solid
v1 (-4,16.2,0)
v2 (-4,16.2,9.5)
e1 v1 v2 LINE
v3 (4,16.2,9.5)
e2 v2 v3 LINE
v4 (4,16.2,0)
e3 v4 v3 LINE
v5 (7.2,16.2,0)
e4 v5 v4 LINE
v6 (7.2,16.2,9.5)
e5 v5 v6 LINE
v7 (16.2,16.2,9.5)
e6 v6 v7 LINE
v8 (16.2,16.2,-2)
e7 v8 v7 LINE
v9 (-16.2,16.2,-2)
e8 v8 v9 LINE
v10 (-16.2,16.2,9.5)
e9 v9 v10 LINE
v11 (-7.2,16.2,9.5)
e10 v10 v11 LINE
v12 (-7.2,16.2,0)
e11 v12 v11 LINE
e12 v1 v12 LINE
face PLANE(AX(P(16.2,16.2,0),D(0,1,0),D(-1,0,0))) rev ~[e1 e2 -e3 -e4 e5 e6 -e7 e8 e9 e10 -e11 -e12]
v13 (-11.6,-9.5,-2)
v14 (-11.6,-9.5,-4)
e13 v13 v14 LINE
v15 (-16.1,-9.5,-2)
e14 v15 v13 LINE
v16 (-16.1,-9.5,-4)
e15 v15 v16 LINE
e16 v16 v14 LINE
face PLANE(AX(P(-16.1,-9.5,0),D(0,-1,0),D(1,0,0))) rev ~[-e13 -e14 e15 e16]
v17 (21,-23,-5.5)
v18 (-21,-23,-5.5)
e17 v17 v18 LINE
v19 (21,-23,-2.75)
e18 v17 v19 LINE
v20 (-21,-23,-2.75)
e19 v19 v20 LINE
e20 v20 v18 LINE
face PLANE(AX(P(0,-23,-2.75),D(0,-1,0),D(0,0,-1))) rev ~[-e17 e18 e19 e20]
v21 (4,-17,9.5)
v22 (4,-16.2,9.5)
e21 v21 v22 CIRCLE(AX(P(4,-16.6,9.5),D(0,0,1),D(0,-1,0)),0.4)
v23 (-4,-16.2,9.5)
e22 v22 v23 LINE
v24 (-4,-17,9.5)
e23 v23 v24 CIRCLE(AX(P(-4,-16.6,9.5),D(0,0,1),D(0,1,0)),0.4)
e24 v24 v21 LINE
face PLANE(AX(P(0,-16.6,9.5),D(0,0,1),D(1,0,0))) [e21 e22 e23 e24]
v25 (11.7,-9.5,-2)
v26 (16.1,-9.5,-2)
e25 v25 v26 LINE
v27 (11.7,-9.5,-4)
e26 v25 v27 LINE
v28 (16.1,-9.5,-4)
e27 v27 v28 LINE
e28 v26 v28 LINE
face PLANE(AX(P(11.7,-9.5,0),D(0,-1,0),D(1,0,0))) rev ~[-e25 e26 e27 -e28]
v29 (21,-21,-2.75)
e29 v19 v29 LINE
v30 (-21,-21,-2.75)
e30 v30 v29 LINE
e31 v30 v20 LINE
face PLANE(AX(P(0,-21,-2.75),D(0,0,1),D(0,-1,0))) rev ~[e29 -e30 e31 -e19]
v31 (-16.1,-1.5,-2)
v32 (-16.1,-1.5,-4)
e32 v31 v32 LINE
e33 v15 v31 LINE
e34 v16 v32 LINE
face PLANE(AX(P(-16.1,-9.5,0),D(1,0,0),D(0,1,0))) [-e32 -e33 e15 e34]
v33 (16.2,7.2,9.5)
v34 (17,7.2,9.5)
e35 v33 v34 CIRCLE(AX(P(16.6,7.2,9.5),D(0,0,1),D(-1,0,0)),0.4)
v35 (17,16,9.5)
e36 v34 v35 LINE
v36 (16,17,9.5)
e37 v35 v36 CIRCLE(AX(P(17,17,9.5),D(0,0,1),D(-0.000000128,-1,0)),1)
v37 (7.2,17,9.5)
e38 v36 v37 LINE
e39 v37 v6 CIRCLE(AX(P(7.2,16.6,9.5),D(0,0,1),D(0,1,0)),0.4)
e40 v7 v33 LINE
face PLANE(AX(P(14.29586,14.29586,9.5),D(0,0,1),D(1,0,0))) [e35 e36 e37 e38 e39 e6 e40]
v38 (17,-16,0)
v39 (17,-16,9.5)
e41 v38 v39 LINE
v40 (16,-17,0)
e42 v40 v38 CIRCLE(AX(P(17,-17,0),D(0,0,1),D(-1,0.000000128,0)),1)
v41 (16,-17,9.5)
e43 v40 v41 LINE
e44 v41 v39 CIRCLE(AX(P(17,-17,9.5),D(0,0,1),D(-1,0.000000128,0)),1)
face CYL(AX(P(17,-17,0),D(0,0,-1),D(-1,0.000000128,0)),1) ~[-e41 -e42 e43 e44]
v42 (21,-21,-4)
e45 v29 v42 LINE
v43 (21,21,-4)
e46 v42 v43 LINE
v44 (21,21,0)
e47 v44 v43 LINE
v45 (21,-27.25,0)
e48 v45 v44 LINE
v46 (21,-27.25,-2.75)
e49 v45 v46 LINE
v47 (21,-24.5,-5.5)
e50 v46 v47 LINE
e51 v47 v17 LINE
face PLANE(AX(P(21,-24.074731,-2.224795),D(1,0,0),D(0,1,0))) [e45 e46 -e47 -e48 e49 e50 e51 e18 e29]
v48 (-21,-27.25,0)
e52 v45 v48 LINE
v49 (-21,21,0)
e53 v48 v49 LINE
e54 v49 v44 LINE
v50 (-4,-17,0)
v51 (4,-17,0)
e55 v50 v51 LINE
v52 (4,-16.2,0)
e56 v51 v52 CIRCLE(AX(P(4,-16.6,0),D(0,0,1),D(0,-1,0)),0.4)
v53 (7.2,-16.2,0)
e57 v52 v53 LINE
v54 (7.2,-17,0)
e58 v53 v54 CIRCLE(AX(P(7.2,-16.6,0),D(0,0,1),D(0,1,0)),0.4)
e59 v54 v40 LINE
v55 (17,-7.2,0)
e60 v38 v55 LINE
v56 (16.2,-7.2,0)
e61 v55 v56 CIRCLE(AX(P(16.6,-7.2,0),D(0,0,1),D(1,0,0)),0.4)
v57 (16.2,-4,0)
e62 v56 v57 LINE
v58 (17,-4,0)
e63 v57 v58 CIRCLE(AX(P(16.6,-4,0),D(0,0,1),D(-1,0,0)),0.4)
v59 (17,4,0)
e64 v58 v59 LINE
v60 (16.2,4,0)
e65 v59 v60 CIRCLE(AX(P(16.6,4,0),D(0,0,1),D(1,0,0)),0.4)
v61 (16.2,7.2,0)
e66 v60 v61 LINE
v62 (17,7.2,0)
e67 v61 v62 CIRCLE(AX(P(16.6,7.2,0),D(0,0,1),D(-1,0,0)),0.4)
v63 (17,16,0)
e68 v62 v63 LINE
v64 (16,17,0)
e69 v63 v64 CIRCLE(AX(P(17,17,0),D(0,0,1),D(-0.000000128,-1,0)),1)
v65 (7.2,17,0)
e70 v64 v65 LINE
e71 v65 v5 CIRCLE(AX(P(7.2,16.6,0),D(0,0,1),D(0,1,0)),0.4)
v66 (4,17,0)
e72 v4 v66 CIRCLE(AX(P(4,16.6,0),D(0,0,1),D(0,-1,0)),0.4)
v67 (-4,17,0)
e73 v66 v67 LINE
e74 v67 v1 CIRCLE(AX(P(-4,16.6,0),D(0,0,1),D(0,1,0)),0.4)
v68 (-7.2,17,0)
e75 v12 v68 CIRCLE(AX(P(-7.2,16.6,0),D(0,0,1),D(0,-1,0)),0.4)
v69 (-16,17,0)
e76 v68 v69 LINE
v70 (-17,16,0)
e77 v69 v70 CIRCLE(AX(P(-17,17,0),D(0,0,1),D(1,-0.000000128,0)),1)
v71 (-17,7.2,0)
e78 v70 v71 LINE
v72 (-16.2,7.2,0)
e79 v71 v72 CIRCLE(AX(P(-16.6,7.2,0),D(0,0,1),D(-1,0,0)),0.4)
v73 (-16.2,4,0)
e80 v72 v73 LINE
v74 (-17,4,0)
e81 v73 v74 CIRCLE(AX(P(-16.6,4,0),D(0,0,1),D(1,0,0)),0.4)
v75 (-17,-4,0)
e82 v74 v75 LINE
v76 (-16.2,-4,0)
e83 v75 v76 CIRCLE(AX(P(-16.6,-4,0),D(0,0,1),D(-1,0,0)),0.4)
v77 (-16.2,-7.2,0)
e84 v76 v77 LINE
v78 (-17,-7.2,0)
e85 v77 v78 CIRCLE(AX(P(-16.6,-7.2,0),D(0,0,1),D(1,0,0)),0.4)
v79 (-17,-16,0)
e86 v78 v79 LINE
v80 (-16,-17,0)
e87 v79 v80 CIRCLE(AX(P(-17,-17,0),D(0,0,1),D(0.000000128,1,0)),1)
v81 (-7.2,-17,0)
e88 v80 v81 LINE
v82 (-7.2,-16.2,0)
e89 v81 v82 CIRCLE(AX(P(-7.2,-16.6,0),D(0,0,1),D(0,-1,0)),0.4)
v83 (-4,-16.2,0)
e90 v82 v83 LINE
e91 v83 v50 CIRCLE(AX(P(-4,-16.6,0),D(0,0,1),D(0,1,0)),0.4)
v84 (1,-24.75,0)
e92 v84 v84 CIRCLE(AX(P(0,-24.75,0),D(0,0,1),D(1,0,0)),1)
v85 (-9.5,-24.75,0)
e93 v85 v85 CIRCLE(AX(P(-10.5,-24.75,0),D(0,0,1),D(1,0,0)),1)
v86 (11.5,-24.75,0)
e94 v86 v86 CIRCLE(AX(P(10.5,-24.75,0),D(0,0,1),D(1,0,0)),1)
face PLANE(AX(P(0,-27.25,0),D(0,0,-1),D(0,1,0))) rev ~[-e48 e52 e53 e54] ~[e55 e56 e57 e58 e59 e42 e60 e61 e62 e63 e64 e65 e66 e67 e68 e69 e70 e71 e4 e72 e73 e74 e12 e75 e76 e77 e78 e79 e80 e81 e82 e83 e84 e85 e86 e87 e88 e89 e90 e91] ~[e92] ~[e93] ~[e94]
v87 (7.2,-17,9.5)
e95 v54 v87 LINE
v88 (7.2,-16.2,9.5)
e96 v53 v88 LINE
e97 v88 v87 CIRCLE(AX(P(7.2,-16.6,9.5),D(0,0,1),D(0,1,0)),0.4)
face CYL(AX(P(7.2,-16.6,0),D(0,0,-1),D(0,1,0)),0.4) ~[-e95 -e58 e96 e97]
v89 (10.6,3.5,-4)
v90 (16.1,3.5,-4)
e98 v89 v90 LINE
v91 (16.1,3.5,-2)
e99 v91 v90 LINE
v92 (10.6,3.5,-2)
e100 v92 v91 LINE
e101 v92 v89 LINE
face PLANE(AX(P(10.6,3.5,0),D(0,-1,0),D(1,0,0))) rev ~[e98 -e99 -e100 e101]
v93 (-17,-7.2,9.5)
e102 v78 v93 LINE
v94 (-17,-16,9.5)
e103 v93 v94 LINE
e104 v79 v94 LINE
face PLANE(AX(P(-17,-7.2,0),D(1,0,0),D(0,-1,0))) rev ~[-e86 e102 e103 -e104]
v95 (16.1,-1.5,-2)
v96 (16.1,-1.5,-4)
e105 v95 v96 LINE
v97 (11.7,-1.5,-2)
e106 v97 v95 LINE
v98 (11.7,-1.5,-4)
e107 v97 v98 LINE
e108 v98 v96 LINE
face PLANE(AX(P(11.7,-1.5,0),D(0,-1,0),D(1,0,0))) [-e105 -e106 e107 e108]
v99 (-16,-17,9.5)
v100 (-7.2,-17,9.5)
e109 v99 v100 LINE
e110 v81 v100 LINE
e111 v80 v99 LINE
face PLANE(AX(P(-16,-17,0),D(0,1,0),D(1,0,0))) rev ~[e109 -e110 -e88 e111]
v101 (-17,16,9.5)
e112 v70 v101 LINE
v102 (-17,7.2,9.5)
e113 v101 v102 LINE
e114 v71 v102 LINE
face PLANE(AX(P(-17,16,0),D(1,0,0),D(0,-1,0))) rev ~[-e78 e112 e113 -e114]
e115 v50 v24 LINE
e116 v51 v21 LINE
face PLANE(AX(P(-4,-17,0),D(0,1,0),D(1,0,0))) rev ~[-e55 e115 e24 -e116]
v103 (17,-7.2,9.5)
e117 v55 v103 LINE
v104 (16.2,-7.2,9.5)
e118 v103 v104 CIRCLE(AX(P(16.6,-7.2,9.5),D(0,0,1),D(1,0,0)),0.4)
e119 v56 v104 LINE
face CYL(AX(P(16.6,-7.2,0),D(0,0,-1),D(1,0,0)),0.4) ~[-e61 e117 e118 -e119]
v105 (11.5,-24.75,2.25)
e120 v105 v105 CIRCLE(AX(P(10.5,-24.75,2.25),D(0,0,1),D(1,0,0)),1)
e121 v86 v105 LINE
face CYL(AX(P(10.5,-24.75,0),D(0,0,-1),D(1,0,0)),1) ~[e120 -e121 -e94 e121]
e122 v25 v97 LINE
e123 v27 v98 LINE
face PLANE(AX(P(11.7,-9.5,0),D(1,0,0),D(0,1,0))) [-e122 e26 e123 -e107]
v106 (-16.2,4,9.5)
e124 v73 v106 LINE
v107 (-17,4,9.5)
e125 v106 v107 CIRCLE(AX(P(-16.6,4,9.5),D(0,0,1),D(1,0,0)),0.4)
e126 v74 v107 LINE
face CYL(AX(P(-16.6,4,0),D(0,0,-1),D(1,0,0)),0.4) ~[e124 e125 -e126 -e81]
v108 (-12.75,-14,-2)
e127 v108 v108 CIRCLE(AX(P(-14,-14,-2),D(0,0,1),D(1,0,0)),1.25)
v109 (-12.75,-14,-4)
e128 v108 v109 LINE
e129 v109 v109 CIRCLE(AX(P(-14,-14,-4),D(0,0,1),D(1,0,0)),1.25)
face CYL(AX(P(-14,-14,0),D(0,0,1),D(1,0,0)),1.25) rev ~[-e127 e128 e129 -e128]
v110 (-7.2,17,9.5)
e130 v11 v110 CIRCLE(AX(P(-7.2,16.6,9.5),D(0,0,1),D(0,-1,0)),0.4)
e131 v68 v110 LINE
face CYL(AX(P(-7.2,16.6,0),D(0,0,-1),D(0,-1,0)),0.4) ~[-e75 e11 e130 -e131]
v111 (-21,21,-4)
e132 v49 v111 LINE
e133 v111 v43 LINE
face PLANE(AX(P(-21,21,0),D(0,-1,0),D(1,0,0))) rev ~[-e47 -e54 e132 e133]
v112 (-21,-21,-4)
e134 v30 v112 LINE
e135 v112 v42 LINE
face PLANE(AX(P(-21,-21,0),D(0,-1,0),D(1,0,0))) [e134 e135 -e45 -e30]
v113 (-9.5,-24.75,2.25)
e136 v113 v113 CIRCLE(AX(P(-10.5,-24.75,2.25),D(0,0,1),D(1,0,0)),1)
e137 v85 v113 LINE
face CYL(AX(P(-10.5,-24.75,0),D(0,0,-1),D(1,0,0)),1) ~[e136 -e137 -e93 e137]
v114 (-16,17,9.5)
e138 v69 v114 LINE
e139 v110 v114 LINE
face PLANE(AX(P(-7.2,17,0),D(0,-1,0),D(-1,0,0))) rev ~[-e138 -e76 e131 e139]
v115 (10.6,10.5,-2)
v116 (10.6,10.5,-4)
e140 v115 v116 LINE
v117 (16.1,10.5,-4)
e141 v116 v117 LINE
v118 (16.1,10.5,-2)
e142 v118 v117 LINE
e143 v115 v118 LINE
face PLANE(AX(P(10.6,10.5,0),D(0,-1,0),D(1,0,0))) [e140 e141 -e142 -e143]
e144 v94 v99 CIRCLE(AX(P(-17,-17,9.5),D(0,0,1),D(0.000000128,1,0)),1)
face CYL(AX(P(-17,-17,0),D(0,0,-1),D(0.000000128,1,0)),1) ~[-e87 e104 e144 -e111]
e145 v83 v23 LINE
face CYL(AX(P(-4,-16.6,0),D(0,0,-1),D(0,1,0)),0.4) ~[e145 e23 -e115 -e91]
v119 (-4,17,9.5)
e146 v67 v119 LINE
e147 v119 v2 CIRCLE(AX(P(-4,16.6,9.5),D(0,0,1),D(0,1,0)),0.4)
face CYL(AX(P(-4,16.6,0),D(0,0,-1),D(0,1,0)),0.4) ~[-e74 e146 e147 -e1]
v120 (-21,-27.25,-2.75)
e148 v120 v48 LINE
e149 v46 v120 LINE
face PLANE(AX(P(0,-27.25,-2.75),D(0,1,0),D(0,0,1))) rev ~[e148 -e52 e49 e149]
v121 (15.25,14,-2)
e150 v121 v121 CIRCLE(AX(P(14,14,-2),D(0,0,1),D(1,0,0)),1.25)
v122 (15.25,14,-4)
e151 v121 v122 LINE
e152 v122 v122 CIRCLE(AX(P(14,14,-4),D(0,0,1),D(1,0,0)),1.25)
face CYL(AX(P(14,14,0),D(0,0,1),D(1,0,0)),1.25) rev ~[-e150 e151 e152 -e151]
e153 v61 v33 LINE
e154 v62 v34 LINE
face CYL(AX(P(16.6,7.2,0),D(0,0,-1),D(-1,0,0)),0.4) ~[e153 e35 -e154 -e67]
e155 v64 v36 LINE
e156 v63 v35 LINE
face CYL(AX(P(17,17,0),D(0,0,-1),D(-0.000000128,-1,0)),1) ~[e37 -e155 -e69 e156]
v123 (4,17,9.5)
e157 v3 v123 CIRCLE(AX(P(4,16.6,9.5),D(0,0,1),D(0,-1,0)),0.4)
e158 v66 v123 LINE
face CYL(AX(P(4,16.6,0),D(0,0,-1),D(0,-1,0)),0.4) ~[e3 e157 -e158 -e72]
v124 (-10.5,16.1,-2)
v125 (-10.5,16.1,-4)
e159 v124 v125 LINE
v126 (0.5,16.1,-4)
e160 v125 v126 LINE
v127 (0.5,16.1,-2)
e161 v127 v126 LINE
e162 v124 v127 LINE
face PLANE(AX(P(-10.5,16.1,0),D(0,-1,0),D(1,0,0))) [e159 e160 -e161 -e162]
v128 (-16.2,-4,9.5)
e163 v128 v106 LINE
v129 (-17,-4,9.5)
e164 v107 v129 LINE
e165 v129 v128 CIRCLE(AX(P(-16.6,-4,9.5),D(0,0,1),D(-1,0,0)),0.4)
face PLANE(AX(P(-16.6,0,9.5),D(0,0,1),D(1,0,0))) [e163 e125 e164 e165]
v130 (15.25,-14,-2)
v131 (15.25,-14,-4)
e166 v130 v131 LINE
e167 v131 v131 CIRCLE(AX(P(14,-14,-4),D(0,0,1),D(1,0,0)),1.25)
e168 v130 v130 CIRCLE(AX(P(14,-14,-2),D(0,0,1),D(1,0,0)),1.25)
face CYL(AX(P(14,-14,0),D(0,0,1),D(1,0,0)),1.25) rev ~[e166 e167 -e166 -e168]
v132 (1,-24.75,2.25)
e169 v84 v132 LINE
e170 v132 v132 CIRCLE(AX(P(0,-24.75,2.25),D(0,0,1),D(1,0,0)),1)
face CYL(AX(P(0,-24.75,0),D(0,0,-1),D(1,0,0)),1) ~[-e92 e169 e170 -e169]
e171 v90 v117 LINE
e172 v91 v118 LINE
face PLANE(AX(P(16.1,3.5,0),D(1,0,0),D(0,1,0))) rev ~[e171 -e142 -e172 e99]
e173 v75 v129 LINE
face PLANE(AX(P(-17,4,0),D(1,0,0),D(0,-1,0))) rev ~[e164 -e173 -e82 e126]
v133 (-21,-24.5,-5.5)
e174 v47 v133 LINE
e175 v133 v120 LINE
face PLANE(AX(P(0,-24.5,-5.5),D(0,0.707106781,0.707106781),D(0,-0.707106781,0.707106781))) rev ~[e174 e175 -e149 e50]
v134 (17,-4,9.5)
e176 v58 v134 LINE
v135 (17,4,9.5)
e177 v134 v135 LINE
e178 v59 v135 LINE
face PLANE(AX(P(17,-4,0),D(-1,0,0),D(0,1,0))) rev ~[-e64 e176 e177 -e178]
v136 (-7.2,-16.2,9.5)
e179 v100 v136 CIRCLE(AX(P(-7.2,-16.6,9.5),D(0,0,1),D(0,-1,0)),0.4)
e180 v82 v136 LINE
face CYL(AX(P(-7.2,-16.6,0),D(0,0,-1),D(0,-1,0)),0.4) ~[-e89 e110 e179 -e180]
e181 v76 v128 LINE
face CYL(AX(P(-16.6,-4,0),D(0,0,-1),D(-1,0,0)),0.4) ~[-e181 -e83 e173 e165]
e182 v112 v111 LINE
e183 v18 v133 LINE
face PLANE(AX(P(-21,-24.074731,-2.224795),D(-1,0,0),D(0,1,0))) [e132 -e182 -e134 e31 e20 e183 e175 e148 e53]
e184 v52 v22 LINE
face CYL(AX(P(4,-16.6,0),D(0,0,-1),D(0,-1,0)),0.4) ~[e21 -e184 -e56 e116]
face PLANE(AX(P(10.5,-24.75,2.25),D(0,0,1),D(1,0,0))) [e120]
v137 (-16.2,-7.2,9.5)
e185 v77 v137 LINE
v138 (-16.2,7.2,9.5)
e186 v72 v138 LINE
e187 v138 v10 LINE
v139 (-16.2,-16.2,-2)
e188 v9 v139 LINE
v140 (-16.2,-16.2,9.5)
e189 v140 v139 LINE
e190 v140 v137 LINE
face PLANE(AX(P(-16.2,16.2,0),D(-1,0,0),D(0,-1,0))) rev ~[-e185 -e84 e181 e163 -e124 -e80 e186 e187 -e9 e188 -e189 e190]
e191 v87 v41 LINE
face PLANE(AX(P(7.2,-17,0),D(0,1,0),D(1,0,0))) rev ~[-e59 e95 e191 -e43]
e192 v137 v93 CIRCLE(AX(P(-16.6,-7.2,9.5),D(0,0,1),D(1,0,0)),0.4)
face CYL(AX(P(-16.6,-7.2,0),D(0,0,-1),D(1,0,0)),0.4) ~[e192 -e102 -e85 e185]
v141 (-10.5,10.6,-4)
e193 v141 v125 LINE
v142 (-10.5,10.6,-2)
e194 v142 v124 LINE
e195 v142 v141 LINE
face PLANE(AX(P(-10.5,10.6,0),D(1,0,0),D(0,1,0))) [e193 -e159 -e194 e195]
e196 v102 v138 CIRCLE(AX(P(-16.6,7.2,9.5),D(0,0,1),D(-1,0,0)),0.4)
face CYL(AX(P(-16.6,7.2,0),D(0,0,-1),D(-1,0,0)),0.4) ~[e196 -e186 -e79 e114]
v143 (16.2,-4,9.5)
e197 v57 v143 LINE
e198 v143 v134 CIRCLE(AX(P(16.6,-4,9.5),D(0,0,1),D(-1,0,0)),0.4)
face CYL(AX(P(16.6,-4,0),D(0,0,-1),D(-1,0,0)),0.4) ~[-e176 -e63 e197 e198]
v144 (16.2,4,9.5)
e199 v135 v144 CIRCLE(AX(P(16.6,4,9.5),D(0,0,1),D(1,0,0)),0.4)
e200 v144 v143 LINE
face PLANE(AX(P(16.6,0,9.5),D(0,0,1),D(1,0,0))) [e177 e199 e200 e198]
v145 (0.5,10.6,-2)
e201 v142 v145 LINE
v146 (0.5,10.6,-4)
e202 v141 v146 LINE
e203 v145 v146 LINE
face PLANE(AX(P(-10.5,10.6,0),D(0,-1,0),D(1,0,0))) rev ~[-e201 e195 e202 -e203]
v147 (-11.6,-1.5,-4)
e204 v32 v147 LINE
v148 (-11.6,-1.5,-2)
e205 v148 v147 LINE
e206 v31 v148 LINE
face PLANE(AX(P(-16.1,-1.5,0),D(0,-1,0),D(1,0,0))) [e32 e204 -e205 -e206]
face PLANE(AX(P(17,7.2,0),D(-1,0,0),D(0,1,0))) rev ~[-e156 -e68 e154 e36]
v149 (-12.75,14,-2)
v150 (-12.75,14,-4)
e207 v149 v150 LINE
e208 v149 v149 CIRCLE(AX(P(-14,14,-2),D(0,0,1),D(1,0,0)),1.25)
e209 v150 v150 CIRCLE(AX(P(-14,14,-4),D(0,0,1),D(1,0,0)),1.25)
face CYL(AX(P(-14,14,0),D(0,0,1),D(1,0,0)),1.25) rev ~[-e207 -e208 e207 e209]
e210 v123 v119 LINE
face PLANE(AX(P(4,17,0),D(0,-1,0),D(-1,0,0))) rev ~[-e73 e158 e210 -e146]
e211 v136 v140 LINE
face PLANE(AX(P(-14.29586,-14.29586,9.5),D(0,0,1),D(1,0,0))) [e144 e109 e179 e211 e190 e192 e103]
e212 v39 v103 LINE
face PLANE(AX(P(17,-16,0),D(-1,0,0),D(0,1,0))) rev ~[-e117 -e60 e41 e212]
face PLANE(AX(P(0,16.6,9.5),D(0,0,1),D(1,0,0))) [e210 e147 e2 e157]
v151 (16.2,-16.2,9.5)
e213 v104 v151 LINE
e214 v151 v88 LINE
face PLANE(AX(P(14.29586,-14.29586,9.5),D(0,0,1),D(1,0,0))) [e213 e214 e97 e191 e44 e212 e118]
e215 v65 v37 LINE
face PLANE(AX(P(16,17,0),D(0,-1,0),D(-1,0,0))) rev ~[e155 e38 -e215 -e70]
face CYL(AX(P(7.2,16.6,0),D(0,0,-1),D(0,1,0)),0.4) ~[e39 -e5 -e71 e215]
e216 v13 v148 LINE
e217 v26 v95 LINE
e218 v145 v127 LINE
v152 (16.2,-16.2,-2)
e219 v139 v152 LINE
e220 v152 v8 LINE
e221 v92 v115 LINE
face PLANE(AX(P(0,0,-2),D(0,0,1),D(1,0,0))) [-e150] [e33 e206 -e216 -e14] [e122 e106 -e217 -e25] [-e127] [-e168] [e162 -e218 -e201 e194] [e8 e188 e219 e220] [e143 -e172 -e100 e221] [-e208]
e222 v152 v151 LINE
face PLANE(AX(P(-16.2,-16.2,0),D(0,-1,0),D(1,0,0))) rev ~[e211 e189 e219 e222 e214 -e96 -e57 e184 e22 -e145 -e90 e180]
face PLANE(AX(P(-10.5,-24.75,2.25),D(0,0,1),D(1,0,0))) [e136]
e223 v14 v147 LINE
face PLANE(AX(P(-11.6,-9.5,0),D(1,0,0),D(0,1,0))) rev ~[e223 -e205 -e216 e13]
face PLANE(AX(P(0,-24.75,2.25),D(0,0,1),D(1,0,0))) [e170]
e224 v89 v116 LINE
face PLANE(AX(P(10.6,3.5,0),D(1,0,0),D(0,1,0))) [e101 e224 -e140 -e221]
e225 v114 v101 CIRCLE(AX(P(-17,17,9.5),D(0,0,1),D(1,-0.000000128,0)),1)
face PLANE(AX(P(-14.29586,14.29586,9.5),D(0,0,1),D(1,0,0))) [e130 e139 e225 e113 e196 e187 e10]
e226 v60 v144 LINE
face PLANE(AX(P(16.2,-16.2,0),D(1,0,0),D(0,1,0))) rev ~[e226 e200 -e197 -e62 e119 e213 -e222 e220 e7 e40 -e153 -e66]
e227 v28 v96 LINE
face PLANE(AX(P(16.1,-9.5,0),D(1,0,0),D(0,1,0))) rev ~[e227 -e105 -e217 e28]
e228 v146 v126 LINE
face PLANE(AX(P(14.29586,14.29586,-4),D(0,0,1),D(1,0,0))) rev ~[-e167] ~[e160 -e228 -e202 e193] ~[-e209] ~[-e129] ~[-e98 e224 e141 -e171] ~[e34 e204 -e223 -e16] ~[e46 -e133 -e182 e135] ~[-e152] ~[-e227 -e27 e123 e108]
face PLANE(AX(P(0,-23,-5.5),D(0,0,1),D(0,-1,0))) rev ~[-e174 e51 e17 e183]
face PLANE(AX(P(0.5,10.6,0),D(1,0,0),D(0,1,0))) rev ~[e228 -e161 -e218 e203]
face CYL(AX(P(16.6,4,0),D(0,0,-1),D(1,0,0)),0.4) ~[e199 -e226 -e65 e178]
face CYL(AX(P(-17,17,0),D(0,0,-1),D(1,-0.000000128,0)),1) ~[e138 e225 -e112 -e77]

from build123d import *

# Parameters (mm, degrees)
F0_W     = 42
F0_H     = 42
F0_R     = 1.25
F0_W_2   = 4.5
F0_H_2   = 8
F0_W_3   = 4.4
F0_W_4   = 11
F0_H_3   = 5.5
F0_W_5   = 5.5
F0_H_4   = 7
F2_DEPTH = 4
F3_DEPTH = 21
F4_DEPTH = 21
F5_DEPTH = 9.5
F6_R     = 1
F7_DEPTH = 2.25
F8_DEPTH = 2


with BuildPart() as f2:
    # F0 (on Top) → F2 (new body)
    with BuildSketch(Plane.XY):
        Rectangle(F0_W, F0_H)
        with BuildLine():
            ThreePointArc((16.2, 4), (16.6, 4.4), (17, 4))
            Line((17, 4), (17, -4))
            ThreePointArc((17, -4), (16.6, -4.4), (16.2, -4))
            Line((16.2, -4), (16.2, -7.2))
            ThreePointArc((16.2, -7.2), (16.6, -6.8), (17, -7.2))
            Line((17, -7.2), (17, -16))
            ThreePointArc((17, -16), (17.707107, -17.707107), (16, -17))
            Line((16, -17), (7.2, -17))
            ThreePointArc((7.2, -17), (6.8, -16.6), (7.2, -16.2))
            Line((7.2, -16.2), (4, -16.2))
            ThreePointArc((4, -16.2), (4.4, -16.6), (4, -17))
            Line((4, -17), (-4, -17))
            ThreePointArc((-4, -17), (-4.4, -16.6), (-4, -16.2))
            Line((-4, -16.2), (-7.2, -16.2))
            ThreePointArc((-7.2, -16.2), (-6.8, -16.6), (-7.2, -17))
            Line((-7.2, -17), (-16, -17))
            ThreePointArc((-16, -17), (-17.707107, -17.707107), (-17, -16))
            Line((-17, -16), (-17, -7.2))
            ThreePointArc((-17, -7.2), (-16.6, -6.8), (-16.2, -7.2))
            Line((-16.2, -7.2), (-16.2, -4))
            ThreePointArc((-16.2, -4), (-16.6, -4.4), (-17, -4))
            Line((-17, -4), (-17, 4))
            ThreePointArc((-17, 4), (-16.6, 4.4), (-16.2, 4))
            Line((-16.2, 4), (-16.2, 7.2))
            ThreePointArc((-16.2, 7.2), (-16.6, 6.8), (-17, 7.2))
            Line((-17, 7.2), (-17, 16))
            ThreePointArc((-17, 16), (-17.707107, 17.707107), (-16, 17))
            Line((-16, 17), (-7.2, 17))
            ThreePointArc((-7.2, 17), (-6.8, 16.6), (-7.2, 16.2))
            Line((-7.2, 16.2), (-4, 16.2))
            ThreePointArc((-4, 16.2), (-4.4, 16.6), (-4, 17))
            Line((-4, 17), (4, 17))
            ThreePointArc((4, 17), (4.4, 16.6), (4, 16.2))
            Line((4, 16.2), (7.2, 16.2))
            ThreePointArc((7.2, 16.2), (6.8, 16.6), (7.2, 17))
            Line((7.2, 17), (16, 17))
            ThreePointArc((16, 17), (17.707107, 17.707107), (17, 16))
            Line((17, 16), (17, 7.2))
            ThreePointArc((17, 7.2), (16.6, 6.8), (16.2, 7.2))
            Line((16.2, 7.2), (16.2, 4))
        make_face(mode=Mode.SUBTRACT)
        with BuildLine():
            Line((-4, 16.2), (4, 16.2))
            ThreePointArc((4, 16.2), (4.4, 16.6), (4, 17))
            Line((4, 17), (-4, 17))
            ThreePointArc((-4, 17), (-4.4, 16.6), (-4, 16.2))
        make_face()
        with BuildLine():
            Line((16.2, 16.2), (16.2, 7.2))
            ThreePointArc((16.2, 7.2), (16.6, 6.8), (17, 7.2))
            Line((17, 7.2), (17, 16))
            ThreePointArc((17, 16), (17.707107, 17.707107), (16, 17))
            Line((16, 17), (7.2, 17))
            ThreePointArc((7.2, 17), (6.8, 16.6), (7.2, 16.2))
            Line((7.2, 16.2), (16.2, 16.2))
        make_face()
        with BuildLine():
            Line((-16.2, 16.2), (-7.2, 16.2))
            ThreePointArc((-7.2, 16.2), (-6.8, 16.6), (-7.2, 17))
            Line((-7.2, 17), (-16, 17))
            ThreePointArc((-16, 17), (-17.707107, 17.707107), (-17, 16))
            Line((-17, 16), (-17, 7.2))
            ThreePointArc((-17, 7.2), (-16.6, 6.8), (-16.2, 7.2))
            Line((-16.2, 7.2), (-16.2, 16.2))
        make_face()
        with BuildLine():
            Line((-16.2, -4), (-16.2, 4))
            ThreePointArc((-16.2, 4), (-16.6, 4.4), (-17, 4))
            Line((-17, 4), (-17, -4))
            ThreePointArc((-17, -4), (-16.6, -4.4), (-16.2, -4))
        make_face()
        with BuildLine():
            Line((17, -4), (17, 4))
            ThreePointArc((17, 4), (16.6, 4.4), (16.2, 4))
            Line((16.2, 4), (16.2, -4))
            ThreePointArc((16.2, -4), (16.6, -4.4), (17, -4))
        make_face()
        with BuildLine():
            ThreePointArc((17, -7.2), (16.6, -6.8), (16.2, -7.2))
            Line((16.2, -7.2), (16.2, -16.2))
            Line((16.2, -16.2), (7.2, -16.2))
            ThreePointArc((7.2, -16.2), (6.8, -16.6), (7.2, -17))
            Line((7.2, -17), (16, -17))
            ThreePointArc((16, -17), (17.707107, -17.707107), (17, -16))
            Line((17, -16), (17, -7.2))
        make_face()
        with BuildLine():
            ThreePointArc((-7.2, -17), (-6.8, -16.6), (-7.2, -16.2))
            Line((-7.2, -16.2), (-16.2, -16.2))
            Line((-16.2, -16.2), (-16.2, -7.2))
            ThreePointArc((-16.2, -7.2), (-16.6, -6.8), (-17, -7.2))
            Line((-17, -7.2), (-17, -16))
            ThreePointArc((-17, -16), (-17.707107, -17.707107), (-16, -17))
            Line((-16, -17), (-7.2, -17))
        make_face()
        with BuildLine():
            ThreePointArc((4, -17), (4.4, -16.6), (4, -16.2))
            Line((4, -16.2), (-4, -16.2))
            ThreePointArc((-4, -16.2), (-4.4, -16.6), (-4, -17))
            Line((-4, -17), (4, -17))
        make_face()
        Polygon((16.2, -4), (16.2, 4), (16.2, 7.2), (16.2, 16.2), (7.2, 16.2), (4, 16.2), (-4, 16.2), (-7.2, 16.2), (-16.2, 16.2), (-16.2, 7.2), (-16.2, 4), (-16.2, -4), (-16.2, -7.2), (-16.2, -16.2), (-7.2, -16.2), (-4, -16.2), (4, -16.2), (7.2, -16.2), (16.2, -16.2), (16.2, -7.2), align=None)
        with Locations((-14, -14)):
            Circle(F0_R, mode=Mode.SUBTRACT)
        with Locations((-13.85, -5.5)):
            Rectangle(F0_W_2, F0_H_2, mode=Mode.SUBTRACT)
        with Locations((14, -14)):
            Circle(F0_R, mode=Mode.SUBTRACT)
        with Locations((13.9, -5.5)):
            Rectangle(F0_W_3, F0_H_2, mode=Mode.SUBTRACT)
        with Locations((-14, 14)):
            Circle(F0_R, mode=Mode.SUBTRACT)
        with Locations((-5, 13.35)):
            Rectangle(F0_W_4, F0_H_3, mode=Mode.SUBTRACT)
        with Locations((13.35, 7)):
            Rectangle(F0_W_5, F0_H_4, mode=Mode.SUBTRACT)
        with Locations((14, 14)):
            Circle(F0_R, mode=Mode.SUBTRACT)
    extrude(amount=-F2_DEPTH)

    # F1 (on Right) → F3 (join)
    with BuildSketch(Plane.YZ):
        Polygon((-21, -2.75), (-21, 0), (-23, 0), (-27.25, 0), (-27.25, -2.75), (-24.5, -5.5), (-23, -5.5), (-23, -2.75), align=None)
    extrude(amount=F3_DEPTH)

    # F3_face (on face) → F4 (join)
    with BuildSketch(Plane(origin=(0, -24.257991, -2.172374), x_dir=(0, 1, 0), z_dir=(-1, 0, 0))):
        Polygon((3.257991, -2.172374), (3.257991, 0.577626), (1.257991, 0.577626), (1.257991, 3.327626), (-0.242009, 3.327626), (-2.992009, 0.577626), (-2.992009, -2.172374), align=None)
    extrude(amount=F4_DEPTH)

    # F0 (on Top) → F5 (join)
    with BuildSketch(Plane.XY):
        with BuildLine():
            Line((-16.2, 16.2), (-7.2, 16.2))
            ThreePointArc((-7.2, 16.2), (-6.8, 16.6), (-7.2, 17))
            Line((-7.2, 17), (-16, 17))
            ThreePointArc((-16, 17), (-17.707107, 17.707107), (-17, 16))
            Line((-17, 16), (-17, 7.2))
            ThreePointArc((-17, 7.2), (-16.6, 6.8), (-16.2, 7.2))
            Line((-16.2, 7.2), (-16.2, 16.2))
        make_face()
        with BuildLine():
            Line((-16.2, -4), (-16.2, 4))
            ThreePointArc((-16.2, 4), (-16.6, 4.4), (-17, 4))
            Line((-17, 4), (-17, -4))
            ThreePointArc((-17, -4), (-16.6, -4.4), (-16.2, -4))
        make_face()
        with BuildLine():
            ThreePointArc((-7.2, -17), (-6.8, -16.6), (-7.2, -16.2))
            Line((-7.2, -16.2), (-16.2, -16.2))
            Line((-16.2, -16.2), (-16.2, -7.2))
            ThreePointArc((-16.2, -7.2), (-16.6, -6.8), (-17, -7.2))
            Line((-17, -7.2), (-17, -16))
            ThreePointArc((-17, -16), (-17.707107, -17.707107), (-16, -17))
            Line((-16, -17), (-7.2, -17))
        make_face()
        with BuildLine():
            Line((-4, 16.2), (4, 16.2))
            ThreePointArc((4, 16.2), (4.4, 16.6), (4, 17))
            Line((4, 17), (-4, 17))
            ThreePointArc((-4, 17), (-4.4, 16.6), (-4, 16.2))
        make_face()
        with BuildLine():
            Line((16.2, 16.2), (16.2, 7.2))
            ThreePointArc((16.2, 7.2), (16.6, 6.8), (17, 7.2))
            Line((17, 7.2), (17, 16))
            ThreePointArc((17, 16), (17.707107, 17.707107), (16, 17))
            Line((16, 17), (7.2, 17))
            ThreePointArc((7.2, 17), (6.8, 16.6), (7.2, 16.2))
            Line((7.2, 16.2), (16.2, 16.2))
        make_face()
        with BuildLine():
            Line((17, -4), (17, 4))
            ThreePointArc((17, 4), (16.6, 4.4), (16.2, 4))
            Line((16.2, 4), (16.2, -4))
            ThreePointArc((16.2, -4), (16.6, -4.4), (17, -4))
        make_face()
        with BuildLine():
            ThreePointArc((4, -17), (4.4, -16.6), (4, -16.2))
            Line((4, -16.2), (-4, -16.2))
            ThreePointArc((-4, -16.2), (-4.4, -16.6), (-4, -17))
            Line((-4, -17), (4, -17))
        make_face()
        with BuildLine():
            ThreePointArc((17, -7.2), (16.6, -6.8), (16.2, -7.2))
            Line((16.2, -7.2), (16.2, -16.2))
            Line((16.2, -16.2), (7.2, -16.2))
            ThreePointArc((7.2, -16.2), (6.8, -16.6), (7.2, -17))
            Line((7.2, -17), (16, -17))
            ThreePointArc((16, -17), (17.707107, -17.707107), (17, -16))
            Line((17, -16), (17, -7.2))
        make_face()
    extrude(amount=F5_DEPTH)

    # F6 (on face) → F7 (join)
    with BuildSketch(Plane.XY):
        with Locations((-10.5, -24.75)):
            Circle(F6_R)
        with Locations((0, -24.75)):
            Circle(F6_R)
        with Locations((10.5, -24.75)):
            Circle(F6_R)
    extrude(amount=F7_DEPTH)

    # F0 (on Top) → F8 (cut)
    with BuildSketch(Plane.XY):
        Polygon((16.2, -4), (16.2, 4), (16.2, 7.2), (16.2, 16.2), (7.2, 16.2), (4, 16.2), (-4, 16.2), (-7.2, 16.2), (-16.2, 16.2), (-16.2, 7.2), (-16.2, 4), (-16.2, -4), (-16.2, -7.2), (-16.2, -16.2), (-7.2, -16.2), (-4, -16.2), (4, -16.2), (7.2, -16.2), (16.2, -16.2), (16.2, -7.2), align=None)
        with Locations((-14, -14)):
            Circle(F0_R, mode=Mode.SUBTRACT)
        with Locations((-13.85, -5.5)):
            Rectangle(F0_W_2, F0_H_2, mode=Mode.SUBTRACT)
        with Locations((14, -14)):
            Circle(F0_R, mode=Mode.SUBTRACT)
        with Locations((13.9, -5.5)):
            Rectangle(F0_W_3, F0_H_2, mode=Mode.SUBTRACT)
        with Locations((-14, 14)):
            Circle(F0_R, mode=Mode.SUBTRACT)
        with Locations((-5, 13.35)):
            Rectangle(F0_W_4, F0_H_3, mode=Mode.SUBTRACT)
        with Locations((13.35, 7)):
            Rectangle(F0_W_5, F0_H_4, mode=Mode.SUBTRACT)
        with Locations((14, 14)):
            Circle(F0_R, mode=Mode.SUBTRACT)
    extrude(amount=-F8_DEPTH, mode=Mode.SUBTRACT)


solid = f2.part
